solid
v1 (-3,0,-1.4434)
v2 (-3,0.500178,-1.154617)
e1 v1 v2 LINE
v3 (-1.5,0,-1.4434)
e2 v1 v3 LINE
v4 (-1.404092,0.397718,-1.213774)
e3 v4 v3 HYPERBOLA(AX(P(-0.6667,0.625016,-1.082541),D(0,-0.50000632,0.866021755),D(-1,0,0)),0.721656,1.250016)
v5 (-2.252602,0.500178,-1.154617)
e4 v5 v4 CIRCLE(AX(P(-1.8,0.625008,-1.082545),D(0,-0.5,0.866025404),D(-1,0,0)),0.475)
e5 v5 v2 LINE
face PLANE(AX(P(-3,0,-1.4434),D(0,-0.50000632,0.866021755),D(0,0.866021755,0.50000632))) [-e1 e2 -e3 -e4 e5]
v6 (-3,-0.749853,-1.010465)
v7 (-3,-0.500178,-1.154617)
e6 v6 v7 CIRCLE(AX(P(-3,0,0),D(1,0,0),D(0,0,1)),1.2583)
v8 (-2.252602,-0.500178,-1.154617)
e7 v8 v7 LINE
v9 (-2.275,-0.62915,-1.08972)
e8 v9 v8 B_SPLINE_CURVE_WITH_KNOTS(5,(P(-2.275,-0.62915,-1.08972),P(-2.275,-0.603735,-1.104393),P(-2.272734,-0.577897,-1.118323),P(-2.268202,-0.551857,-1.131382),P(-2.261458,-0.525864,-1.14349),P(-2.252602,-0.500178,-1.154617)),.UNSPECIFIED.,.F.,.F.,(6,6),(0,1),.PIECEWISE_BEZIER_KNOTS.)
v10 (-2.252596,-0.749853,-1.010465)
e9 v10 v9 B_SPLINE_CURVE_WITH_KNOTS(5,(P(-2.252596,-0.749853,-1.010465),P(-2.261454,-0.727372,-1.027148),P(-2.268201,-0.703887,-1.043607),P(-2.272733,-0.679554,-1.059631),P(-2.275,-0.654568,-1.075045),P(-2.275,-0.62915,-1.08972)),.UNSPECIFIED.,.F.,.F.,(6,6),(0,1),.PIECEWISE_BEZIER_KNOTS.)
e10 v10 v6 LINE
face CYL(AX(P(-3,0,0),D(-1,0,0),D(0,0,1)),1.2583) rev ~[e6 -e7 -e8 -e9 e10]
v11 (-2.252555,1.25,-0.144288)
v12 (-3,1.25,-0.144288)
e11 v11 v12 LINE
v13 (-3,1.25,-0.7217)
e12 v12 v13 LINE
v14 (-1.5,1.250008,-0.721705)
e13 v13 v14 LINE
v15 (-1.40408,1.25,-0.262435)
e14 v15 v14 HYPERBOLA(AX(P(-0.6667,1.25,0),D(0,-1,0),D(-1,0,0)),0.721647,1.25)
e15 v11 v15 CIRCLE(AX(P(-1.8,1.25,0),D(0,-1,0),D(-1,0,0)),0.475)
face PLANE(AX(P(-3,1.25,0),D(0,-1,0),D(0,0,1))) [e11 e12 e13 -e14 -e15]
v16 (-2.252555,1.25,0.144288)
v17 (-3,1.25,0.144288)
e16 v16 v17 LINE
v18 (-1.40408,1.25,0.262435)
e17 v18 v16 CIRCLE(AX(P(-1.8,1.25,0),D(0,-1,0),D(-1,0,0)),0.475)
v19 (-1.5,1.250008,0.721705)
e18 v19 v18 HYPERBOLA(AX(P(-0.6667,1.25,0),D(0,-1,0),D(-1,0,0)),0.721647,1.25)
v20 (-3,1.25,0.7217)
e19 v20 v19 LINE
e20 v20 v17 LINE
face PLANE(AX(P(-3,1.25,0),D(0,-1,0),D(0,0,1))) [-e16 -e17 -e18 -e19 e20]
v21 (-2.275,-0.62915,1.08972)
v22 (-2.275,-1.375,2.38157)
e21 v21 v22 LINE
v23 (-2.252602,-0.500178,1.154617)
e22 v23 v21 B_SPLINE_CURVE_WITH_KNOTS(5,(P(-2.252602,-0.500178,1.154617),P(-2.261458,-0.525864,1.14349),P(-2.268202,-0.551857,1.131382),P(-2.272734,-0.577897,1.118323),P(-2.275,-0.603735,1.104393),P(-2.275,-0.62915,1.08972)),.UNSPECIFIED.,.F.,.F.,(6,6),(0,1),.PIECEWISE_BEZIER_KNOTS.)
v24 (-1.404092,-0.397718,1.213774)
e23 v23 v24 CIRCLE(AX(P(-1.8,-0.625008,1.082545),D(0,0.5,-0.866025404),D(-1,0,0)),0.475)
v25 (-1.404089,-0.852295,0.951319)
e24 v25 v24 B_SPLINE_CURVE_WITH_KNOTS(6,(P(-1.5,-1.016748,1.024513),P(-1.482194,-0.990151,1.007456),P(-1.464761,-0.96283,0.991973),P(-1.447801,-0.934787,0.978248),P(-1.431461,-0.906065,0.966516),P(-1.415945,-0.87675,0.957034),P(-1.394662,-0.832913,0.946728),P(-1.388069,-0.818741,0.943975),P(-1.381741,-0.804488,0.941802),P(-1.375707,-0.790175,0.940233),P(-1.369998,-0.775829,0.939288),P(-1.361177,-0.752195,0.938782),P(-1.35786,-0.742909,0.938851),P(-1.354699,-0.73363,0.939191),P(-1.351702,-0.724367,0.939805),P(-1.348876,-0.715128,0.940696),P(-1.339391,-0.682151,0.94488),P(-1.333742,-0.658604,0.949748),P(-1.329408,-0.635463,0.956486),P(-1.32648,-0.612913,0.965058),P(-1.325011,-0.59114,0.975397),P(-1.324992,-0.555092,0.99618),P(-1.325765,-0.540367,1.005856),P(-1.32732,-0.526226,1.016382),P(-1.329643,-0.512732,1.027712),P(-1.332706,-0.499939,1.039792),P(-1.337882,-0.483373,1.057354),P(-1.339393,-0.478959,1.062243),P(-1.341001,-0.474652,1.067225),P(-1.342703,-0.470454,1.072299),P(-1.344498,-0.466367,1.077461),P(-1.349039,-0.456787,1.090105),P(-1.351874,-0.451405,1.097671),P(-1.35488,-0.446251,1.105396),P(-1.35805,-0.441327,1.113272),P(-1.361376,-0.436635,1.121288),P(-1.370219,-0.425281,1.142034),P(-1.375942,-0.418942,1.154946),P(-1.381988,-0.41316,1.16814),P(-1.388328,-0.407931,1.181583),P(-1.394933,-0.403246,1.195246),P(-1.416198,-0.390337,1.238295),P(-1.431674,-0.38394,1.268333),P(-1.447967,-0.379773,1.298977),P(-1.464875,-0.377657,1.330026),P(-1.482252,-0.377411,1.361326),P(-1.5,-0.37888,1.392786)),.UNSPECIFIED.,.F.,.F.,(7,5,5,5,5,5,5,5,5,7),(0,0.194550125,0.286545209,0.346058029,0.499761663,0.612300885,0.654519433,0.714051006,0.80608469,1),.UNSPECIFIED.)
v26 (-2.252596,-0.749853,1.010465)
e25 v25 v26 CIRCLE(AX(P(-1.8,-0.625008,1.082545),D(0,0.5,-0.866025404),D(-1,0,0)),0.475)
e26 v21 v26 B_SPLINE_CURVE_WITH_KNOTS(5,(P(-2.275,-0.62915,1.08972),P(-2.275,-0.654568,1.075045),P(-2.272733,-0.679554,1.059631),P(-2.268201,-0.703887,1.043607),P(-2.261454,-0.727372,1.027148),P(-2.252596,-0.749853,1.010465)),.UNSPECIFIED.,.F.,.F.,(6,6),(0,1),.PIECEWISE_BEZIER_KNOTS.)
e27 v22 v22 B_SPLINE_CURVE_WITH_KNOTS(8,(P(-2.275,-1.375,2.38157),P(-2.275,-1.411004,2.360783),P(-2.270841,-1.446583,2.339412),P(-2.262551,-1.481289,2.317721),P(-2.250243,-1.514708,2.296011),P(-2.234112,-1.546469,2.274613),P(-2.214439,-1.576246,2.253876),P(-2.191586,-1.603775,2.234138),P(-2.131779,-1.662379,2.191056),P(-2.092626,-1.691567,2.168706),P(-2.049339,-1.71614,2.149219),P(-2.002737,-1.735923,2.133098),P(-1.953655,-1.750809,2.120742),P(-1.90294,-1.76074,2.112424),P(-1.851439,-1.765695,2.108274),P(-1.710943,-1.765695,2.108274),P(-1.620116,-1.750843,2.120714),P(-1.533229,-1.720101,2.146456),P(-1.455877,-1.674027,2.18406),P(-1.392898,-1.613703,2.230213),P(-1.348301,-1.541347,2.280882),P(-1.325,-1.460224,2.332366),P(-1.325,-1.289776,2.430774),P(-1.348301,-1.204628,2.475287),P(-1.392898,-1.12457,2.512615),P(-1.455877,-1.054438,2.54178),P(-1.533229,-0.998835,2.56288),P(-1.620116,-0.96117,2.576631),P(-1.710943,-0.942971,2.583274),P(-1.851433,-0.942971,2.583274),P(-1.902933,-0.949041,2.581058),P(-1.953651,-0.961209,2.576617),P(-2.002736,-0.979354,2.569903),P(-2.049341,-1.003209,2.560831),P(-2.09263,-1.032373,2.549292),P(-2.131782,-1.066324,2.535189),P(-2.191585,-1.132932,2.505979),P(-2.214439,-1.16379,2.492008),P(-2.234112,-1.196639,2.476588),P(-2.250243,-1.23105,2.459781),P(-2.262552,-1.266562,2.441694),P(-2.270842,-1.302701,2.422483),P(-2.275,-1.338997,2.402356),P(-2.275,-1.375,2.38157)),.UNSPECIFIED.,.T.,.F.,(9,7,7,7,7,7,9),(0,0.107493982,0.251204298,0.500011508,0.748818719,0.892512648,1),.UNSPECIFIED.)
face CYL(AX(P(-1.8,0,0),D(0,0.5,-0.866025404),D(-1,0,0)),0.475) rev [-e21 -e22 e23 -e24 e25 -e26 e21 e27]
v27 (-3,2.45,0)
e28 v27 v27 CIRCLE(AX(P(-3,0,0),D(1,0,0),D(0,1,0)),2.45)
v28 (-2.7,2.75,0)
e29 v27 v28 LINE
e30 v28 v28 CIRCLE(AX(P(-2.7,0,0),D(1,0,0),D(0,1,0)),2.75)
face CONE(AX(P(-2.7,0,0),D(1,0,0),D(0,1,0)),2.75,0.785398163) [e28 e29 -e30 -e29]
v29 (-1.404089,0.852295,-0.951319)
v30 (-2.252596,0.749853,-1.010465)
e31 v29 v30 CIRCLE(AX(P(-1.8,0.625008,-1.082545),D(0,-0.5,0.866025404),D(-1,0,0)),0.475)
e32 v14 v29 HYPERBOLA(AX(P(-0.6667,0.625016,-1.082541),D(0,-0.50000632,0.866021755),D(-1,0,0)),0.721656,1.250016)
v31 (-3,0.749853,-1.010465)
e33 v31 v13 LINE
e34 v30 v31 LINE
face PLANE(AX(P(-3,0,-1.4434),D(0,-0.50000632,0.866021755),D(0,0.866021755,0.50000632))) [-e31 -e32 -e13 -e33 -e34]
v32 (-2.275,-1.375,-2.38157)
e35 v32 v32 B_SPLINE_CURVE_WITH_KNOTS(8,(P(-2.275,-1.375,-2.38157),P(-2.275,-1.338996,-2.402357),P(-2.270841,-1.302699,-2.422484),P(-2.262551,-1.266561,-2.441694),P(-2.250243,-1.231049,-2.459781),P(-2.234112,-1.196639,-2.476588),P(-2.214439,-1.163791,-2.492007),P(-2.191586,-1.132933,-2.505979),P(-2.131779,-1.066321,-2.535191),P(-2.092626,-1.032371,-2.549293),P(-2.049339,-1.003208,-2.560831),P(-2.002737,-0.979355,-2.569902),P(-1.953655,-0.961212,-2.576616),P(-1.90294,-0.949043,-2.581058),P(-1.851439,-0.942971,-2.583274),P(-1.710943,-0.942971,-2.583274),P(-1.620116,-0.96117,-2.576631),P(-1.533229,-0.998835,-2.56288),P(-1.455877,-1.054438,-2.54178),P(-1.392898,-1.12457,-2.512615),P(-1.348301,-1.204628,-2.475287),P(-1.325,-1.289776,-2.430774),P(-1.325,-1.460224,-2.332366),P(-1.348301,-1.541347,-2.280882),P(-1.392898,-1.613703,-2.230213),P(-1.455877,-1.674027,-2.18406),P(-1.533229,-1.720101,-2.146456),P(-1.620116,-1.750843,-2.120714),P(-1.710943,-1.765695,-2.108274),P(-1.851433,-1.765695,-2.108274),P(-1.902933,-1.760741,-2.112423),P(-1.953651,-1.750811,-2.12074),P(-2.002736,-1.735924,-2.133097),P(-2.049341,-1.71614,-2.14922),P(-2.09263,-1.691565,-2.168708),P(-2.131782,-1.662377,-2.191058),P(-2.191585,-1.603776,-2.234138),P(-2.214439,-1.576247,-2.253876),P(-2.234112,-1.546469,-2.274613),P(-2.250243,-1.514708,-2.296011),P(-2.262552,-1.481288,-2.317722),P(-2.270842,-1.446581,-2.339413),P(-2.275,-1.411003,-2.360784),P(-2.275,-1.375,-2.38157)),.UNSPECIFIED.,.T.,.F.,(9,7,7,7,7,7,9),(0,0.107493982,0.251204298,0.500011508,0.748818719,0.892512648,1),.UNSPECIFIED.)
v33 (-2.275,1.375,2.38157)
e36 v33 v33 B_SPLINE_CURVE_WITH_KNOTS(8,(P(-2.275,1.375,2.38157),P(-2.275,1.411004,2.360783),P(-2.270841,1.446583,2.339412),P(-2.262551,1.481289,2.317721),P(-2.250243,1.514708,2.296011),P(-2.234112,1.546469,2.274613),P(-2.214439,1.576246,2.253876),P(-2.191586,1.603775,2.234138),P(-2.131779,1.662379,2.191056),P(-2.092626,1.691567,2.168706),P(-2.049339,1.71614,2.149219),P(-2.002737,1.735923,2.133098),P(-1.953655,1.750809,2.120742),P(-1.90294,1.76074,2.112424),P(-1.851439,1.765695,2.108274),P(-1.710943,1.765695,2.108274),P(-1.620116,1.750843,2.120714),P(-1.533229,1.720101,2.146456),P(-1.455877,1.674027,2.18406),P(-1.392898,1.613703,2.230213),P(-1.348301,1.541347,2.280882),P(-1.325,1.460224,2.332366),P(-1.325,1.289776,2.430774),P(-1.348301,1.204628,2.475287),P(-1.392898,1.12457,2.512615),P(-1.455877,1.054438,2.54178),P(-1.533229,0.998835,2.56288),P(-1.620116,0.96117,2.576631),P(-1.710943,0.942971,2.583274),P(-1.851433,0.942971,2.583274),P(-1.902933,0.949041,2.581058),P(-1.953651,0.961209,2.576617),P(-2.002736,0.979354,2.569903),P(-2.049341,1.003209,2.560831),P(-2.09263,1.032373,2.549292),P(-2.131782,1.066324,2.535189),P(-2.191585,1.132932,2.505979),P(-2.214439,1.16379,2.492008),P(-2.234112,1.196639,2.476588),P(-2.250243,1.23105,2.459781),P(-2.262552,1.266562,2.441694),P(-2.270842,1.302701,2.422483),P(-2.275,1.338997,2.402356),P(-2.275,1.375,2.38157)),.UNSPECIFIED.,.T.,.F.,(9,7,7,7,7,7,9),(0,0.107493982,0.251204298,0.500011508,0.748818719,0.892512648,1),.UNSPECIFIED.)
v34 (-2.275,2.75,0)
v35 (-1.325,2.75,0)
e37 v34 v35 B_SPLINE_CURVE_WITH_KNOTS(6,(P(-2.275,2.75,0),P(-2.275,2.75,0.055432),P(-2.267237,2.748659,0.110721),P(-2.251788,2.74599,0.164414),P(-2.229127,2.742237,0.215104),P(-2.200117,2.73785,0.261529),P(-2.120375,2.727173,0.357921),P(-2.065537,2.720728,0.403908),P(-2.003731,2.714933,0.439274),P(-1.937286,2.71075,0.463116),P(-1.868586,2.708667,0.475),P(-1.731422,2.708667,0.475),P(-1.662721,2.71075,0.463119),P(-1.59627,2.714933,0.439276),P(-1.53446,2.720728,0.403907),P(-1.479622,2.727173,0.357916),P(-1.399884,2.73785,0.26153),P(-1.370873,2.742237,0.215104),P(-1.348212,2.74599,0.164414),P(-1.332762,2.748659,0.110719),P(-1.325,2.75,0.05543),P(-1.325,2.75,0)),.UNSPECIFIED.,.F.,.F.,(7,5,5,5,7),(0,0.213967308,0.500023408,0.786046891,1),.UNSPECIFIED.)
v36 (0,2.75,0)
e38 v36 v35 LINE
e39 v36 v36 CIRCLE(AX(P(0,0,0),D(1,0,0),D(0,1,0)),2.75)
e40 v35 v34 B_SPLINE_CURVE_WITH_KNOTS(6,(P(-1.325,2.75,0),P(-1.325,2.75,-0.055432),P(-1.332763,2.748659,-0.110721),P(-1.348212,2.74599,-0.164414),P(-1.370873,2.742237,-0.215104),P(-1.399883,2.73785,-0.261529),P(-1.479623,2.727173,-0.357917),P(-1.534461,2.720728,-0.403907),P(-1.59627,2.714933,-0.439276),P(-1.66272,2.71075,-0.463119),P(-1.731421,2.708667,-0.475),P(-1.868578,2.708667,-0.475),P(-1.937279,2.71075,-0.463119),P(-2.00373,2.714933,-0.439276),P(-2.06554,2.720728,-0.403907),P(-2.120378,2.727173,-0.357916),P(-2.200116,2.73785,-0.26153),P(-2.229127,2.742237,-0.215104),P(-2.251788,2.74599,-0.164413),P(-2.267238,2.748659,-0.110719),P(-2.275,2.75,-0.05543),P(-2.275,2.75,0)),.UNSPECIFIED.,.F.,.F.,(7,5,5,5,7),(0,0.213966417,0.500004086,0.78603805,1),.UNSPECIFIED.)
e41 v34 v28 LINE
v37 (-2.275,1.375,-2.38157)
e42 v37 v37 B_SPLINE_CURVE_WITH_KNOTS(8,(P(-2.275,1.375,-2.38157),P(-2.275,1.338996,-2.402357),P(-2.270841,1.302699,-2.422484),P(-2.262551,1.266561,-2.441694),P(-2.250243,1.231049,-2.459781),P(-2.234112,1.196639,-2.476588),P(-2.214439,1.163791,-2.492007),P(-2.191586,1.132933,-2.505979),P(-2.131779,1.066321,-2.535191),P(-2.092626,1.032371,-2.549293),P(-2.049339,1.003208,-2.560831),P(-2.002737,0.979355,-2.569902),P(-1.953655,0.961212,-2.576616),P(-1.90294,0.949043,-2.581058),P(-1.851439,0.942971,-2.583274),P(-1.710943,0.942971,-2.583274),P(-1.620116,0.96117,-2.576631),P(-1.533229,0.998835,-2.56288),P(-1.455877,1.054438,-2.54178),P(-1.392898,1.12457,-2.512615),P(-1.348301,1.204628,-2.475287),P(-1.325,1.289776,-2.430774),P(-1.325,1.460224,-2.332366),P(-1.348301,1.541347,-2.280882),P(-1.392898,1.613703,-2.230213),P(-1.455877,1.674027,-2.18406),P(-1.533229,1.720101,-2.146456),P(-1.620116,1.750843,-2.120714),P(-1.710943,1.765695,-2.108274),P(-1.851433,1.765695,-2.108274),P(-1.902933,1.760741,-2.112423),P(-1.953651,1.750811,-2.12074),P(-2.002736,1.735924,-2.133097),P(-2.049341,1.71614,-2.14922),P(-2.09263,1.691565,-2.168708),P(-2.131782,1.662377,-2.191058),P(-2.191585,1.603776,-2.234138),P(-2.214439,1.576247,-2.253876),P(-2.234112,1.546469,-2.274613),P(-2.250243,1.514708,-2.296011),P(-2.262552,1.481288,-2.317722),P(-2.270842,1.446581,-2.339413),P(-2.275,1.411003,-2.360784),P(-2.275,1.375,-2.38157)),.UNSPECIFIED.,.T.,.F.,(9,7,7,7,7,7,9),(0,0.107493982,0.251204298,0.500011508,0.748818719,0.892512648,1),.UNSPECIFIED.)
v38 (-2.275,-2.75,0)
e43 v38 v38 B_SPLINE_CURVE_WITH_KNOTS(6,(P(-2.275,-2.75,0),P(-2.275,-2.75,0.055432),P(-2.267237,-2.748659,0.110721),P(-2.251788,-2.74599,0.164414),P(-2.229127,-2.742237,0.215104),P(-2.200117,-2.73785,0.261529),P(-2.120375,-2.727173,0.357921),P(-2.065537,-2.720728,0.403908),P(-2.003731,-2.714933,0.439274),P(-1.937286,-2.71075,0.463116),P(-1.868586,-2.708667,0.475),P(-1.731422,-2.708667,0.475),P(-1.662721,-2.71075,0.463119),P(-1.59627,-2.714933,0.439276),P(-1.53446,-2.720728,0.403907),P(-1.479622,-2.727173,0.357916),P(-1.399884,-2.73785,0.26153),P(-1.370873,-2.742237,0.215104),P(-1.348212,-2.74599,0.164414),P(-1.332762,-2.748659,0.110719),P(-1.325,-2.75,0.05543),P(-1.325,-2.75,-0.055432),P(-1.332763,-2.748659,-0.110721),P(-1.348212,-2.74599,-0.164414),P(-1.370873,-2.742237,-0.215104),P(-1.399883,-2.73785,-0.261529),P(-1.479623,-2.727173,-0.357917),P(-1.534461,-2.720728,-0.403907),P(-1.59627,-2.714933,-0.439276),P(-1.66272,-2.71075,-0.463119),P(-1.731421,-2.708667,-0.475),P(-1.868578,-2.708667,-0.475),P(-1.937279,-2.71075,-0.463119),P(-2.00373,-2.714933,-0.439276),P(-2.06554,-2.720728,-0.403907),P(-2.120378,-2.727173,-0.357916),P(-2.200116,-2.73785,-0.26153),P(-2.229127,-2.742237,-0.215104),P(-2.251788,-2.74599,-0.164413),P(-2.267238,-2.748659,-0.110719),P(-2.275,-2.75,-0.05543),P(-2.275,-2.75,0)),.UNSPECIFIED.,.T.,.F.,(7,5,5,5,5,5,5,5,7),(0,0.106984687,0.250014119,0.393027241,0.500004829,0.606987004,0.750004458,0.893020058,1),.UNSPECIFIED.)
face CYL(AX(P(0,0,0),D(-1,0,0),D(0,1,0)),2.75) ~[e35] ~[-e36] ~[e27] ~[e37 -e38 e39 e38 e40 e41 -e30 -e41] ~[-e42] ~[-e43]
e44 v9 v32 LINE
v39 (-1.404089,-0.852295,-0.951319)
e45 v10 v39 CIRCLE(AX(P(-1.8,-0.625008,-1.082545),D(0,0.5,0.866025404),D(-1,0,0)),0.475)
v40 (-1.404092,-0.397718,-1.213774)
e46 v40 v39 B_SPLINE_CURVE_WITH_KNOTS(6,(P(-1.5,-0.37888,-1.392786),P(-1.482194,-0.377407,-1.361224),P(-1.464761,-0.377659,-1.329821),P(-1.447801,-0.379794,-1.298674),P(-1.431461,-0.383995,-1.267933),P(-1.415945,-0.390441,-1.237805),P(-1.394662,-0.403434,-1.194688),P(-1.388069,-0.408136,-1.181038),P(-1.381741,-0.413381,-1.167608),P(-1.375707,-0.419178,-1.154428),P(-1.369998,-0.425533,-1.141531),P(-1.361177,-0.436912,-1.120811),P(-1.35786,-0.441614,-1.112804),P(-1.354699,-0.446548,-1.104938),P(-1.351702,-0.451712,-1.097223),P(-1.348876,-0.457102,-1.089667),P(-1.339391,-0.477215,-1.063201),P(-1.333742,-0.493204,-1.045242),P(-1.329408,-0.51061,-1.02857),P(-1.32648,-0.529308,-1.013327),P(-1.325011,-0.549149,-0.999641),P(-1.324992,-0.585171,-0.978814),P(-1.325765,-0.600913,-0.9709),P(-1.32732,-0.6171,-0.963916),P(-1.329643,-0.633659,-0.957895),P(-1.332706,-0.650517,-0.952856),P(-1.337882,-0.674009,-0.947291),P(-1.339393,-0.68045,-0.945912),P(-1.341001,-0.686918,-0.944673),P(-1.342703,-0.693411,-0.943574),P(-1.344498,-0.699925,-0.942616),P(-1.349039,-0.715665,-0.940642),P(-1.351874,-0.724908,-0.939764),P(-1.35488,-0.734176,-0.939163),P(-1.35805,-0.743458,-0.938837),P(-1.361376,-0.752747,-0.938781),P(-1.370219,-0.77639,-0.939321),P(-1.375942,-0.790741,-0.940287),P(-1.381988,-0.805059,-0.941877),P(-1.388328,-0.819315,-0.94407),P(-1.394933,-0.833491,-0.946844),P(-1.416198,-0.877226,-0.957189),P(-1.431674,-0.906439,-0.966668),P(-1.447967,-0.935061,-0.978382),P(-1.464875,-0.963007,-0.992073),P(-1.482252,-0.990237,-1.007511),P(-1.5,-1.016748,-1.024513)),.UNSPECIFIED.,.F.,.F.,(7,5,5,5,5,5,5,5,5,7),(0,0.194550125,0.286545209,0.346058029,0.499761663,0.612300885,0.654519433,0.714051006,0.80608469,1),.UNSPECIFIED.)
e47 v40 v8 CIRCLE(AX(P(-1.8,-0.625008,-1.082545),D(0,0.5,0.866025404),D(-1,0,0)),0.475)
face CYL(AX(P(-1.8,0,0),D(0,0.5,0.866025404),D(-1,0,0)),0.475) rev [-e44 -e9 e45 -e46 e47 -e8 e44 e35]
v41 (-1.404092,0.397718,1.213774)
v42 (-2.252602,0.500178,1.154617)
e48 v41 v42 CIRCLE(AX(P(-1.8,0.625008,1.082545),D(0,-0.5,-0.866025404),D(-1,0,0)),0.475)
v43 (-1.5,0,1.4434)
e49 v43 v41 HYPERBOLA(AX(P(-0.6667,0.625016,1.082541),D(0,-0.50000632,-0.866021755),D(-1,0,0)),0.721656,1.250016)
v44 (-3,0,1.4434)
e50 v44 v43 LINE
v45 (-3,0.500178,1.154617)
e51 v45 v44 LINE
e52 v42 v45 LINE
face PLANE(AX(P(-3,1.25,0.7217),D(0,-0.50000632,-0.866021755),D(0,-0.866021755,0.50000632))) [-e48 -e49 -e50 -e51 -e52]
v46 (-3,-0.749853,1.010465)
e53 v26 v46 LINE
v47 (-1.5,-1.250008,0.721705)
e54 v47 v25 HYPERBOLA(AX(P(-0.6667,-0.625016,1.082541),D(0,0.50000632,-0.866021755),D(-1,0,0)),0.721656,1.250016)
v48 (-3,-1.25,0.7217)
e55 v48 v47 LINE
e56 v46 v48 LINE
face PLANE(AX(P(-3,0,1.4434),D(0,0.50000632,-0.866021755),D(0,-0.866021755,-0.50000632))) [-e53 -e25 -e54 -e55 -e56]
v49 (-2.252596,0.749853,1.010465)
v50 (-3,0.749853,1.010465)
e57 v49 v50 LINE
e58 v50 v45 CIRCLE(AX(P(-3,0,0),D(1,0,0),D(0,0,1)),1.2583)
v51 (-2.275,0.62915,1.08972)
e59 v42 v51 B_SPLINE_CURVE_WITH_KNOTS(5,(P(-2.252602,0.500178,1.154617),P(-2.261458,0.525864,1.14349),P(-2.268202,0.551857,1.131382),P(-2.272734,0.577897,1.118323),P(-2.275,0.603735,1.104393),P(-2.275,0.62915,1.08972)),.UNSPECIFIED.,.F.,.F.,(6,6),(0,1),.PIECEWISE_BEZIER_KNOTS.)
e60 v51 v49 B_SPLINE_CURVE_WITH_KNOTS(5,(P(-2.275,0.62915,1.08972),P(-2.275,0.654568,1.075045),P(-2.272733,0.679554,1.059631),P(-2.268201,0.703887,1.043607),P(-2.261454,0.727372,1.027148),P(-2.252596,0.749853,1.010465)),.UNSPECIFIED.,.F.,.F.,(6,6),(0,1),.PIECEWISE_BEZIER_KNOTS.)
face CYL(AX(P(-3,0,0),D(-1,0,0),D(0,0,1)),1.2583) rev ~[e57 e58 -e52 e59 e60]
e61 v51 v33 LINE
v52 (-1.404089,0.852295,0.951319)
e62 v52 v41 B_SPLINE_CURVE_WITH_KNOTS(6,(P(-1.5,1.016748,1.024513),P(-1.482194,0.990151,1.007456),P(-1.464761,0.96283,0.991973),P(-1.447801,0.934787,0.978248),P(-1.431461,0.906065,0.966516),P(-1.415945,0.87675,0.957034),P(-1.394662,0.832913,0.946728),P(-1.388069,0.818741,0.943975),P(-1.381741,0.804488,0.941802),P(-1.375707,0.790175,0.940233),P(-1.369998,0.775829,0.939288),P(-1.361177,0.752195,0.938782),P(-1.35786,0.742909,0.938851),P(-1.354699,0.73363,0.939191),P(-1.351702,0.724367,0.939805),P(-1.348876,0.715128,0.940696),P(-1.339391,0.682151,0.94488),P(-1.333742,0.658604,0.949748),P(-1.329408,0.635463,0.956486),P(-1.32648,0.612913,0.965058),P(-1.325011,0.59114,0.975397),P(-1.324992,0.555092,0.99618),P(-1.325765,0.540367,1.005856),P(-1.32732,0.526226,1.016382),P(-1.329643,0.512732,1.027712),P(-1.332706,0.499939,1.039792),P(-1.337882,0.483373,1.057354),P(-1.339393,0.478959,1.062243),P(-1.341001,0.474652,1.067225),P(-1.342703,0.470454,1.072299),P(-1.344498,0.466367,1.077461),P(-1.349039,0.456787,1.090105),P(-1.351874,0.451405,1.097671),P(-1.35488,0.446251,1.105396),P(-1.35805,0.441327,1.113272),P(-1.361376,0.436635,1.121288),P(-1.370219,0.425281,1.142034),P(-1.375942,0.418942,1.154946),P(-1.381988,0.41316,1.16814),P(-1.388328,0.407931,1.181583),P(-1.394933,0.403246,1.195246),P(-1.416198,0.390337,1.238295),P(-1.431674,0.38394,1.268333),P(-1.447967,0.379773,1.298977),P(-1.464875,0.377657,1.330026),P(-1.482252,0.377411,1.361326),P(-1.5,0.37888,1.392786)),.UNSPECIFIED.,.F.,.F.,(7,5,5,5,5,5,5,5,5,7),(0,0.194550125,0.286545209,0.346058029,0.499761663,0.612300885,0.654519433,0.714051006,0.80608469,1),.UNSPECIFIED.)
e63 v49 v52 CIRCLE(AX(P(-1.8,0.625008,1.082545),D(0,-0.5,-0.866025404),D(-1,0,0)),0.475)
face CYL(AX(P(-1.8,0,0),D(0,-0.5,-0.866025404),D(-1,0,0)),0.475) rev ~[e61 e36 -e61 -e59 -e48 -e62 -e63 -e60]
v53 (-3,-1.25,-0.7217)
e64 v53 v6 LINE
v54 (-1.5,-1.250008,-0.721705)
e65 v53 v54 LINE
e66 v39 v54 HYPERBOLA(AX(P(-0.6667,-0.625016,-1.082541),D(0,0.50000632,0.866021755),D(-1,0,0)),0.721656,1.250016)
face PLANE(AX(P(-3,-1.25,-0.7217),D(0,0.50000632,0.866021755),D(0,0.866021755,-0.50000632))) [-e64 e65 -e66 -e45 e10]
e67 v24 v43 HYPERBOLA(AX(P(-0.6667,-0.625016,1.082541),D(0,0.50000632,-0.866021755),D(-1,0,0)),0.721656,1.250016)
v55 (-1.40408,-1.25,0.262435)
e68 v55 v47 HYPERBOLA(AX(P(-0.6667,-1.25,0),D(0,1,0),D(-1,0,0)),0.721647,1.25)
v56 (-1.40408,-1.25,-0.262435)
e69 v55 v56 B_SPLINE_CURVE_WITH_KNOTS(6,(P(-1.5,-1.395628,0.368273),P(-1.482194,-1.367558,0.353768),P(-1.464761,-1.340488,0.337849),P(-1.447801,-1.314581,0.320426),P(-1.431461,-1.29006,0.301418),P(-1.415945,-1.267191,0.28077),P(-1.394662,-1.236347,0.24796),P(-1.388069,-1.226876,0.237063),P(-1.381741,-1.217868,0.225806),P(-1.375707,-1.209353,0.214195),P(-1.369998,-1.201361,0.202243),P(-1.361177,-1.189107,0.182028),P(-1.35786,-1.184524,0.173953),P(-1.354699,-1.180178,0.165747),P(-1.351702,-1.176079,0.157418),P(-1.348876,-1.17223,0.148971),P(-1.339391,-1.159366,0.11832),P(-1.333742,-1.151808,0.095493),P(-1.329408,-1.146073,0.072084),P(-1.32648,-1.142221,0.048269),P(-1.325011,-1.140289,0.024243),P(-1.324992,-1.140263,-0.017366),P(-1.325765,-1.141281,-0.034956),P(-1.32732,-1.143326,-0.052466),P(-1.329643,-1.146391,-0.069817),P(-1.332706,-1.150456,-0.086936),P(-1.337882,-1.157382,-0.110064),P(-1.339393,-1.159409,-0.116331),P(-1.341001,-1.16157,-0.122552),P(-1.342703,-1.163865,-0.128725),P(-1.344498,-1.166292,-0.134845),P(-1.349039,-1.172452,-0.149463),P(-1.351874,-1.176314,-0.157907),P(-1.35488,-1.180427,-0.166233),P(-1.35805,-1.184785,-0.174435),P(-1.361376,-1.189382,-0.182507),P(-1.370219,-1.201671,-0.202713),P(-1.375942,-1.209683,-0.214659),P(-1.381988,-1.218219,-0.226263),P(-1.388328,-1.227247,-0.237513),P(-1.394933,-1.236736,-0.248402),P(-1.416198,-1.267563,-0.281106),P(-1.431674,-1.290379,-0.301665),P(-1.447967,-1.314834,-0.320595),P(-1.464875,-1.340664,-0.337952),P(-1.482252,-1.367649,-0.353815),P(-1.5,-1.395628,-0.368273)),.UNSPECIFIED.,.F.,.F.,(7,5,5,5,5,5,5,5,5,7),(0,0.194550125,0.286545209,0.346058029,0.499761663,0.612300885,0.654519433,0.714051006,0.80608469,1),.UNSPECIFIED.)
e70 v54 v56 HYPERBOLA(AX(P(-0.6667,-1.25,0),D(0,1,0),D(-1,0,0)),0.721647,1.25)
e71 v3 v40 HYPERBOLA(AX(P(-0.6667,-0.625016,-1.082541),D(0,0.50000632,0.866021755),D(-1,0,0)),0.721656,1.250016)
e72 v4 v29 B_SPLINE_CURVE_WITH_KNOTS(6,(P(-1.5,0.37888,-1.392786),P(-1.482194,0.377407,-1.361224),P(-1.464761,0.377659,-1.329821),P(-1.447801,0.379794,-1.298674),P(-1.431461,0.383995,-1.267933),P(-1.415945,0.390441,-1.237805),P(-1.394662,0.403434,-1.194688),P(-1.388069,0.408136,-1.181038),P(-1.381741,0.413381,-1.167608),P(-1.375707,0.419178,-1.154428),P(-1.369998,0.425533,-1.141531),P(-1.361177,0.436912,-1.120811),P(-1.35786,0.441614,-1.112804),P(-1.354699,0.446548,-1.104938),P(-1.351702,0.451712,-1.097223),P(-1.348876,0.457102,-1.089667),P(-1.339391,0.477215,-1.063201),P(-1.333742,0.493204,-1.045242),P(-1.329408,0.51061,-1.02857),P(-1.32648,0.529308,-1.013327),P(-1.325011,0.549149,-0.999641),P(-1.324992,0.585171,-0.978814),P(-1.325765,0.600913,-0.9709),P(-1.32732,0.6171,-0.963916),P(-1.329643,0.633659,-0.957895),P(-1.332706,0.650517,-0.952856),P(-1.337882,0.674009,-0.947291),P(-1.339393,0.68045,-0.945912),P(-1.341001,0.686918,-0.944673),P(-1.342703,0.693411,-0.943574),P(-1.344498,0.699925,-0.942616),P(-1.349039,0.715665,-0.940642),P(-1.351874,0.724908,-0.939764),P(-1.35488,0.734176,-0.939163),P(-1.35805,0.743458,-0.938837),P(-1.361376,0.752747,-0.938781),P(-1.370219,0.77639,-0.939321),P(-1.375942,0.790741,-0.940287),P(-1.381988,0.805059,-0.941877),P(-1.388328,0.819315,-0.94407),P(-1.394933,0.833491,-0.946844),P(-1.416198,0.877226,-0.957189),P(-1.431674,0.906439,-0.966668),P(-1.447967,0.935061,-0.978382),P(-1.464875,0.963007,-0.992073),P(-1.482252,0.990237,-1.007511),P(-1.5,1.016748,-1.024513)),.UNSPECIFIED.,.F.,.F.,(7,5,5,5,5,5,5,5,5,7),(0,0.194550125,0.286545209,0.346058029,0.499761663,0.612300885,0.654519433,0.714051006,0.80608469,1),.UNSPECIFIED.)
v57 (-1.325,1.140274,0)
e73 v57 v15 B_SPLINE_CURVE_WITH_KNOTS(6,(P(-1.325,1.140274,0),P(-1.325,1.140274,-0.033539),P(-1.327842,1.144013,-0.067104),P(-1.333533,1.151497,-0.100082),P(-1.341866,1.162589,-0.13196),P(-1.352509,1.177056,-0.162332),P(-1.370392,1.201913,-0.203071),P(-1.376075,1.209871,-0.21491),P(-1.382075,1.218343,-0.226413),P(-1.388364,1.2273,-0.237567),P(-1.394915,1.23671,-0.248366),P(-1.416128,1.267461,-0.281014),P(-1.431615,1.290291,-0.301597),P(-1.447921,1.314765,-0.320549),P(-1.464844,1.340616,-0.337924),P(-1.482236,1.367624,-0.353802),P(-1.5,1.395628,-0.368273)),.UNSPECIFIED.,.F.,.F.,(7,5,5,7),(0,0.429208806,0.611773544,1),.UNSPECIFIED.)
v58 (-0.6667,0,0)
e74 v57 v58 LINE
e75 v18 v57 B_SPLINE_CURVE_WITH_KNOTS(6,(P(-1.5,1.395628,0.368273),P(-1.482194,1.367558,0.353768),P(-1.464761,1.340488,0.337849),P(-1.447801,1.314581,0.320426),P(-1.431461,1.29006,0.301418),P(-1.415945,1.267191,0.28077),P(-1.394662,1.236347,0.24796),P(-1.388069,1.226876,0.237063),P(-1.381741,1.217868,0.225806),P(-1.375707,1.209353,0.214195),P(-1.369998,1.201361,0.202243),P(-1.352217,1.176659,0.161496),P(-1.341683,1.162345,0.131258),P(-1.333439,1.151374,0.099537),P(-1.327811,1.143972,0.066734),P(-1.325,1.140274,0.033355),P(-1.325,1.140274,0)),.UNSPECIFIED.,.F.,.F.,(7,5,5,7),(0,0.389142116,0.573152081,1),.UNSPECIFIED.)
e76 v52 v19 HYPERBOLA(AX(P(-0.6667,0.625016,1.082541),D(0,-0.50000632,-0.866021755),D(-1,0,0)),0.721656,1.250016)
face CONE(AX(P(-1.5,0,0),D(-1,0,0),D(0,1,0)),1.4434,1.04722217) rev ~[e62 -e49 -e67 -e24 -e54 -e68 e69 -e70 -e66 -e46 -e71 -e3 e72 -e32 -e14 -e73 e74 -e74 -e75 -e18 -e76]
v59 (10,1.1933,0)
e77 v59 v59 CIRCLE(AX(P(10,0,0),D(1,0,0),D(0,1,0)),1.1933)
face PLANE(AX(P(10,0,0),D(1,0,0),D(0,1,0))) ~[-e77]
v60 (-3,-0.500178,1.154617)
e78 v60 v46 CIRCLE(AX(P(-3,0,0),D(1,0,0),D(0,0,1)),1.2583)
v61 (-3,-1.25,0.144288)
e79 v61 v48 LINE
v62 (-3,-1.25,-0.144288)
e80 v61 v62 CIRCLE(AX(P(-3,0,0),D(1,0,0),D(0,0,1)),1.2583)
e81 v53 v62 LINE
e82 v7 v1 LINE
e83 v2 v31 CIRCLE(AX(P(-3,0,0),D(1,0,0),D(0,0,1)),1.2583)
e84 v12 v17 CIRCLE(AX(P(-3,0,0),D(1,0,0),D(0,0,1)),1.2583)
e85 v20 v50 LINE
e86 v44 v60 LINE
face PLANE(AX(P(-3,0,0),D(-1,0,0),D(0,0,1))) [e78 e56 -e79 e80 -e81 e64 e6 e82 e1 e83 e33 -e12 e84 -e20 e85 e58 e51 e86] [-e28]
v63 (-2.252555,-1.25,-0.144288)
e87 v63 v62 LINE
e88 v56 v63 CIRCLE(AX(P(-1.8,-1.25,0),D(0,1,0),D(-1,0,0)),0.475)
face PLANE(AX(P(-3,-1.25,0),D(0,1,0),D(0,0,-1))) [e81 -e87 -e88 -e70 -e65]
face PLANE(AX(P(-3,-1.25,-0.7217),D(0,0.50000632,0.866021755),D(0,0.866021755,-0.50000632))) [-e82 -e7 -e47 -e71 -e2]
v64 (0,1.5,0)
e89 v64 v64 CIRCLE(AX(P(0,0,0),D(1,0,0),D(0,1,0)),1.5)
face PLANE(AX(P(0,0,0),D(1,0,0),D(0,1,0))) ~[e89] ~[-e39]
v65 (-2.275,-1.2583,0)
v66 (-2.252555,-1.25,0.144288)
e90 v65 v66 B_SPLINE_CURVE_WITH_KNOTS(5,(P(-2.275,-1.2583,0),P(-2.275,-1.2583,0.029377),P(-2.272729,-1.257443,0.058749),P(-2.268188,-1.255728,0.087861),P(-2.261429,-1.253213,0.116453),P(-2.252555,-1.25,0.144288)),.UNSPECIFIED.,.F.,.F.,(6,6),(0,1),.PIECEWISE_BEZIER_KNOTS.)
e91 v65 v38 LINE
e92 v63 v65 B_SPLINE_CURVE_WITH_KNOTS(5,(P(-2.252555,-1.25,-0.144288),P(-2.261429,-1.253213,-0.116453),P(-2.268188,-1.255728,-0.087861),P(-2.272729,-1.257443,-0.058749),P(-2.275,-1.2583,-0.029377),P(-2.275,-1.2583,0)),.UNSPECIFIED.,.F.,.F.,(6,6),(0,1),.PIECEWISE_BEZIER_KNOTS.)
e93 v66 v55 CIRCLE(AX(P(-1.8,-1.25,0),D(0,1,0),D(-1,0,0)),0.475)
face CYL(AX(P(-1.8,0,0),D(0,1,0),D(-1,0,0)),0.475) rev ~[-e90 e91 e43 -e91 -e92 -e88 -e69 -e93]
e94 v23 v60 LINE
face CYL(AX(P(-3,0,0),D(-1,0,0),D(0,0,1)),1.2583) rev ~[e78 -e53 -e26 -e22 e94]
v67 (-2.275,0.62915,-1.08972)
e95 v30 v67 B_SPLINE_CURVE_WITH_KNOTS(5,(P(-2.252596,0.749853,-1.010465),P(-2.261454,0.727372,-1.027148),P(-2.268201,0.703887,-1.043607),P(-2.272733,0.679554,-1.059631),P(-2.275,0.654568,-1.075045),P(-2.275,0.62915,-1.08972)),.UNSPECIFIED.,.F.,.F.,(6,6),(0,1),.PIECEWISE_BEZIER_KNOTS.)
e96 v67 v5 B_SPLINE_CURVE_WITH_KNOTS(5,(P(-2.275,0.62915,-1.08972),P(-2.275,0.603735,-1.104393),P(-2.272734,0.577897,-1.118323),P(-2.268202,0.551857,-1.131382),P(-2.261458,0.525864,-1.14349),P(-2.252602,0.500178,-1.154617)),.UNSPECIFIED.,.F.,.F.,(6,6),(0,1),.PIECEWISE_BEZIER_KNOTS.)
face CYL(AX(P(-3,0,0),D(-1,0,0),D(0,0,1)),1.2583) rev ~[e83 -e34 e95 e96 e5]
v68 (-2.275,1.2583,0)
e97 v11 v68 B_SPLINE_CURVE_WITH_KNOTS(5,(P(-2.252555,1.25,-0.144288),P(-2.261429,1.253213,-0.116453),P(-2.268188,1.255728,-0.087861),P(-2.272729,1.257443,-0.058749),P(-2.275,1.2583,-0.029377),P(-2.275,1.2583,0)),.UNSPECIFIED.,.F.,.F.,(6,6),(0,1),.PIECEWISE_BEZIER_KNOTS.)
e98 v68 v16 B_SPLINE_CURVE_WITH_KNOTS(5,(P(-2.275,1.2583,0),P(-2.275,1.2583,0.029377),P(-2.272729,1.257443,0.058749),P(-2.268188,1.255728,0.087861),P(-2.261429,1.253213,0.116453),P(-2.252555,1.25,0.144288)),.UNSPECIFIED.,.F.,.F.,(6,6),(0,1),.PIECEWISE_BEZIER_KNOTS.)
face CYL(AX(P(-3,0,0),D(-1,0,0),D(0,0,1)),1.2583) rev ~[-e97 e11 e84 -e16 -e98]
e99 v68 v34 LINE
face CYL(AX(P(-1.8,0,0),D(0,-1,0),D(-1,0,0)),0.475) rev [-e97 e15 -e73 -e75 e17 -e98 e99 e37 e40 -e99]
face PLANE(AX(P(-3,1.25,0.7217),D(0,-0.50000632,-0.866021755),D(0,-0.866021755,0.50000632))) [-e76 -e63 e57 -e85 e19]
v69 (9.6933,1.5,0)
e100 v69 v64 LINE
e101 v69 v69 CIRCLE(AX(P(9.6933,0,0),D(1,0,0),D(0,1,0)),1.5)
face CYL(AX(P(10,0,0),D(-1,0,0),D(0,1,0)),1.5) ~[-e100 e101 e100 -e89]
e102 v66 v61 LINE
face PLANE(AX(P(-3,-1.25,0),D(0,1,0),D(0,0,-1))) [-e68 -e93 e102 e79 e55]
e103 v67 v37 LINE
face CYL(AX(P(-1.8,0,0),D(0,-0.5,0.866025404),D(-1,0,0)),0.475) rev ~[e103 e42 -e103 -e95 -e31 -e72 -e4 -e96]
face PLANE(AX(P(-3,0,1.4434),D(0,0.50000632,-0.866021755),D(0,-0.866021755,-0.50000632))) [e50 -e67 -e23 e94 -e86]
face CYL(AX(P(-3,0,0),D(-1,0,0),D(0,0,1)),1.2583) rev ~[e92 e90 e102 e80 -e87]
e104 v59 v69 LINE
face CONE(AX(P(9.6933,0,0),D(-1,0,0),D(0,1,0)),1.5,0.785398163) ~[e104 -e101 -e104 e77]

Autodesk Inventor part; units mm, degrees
ref_plane "YZ Plane" through (0, 0, 0) normal (1, 0, 0) x (0, 1, 0)
ref_plane "XZ Plane" through (0, 0, 0) normal (0, 1, 0) x (-1, 0, 0)
sketch "Sketch1" plane through (0, 0, 0) normal (0, 0, 1) x (1, 0, 0)
  line L0 (-0.6667, 0) -> (10, 0)
  line L1 (10, 0) -> (10, 1.5)
  line L2 (10, 1.5) -> (0, 1.5)
  line L3 (0, 1.5) -> (0, 2.75)
  line L4 (0, 2.75) -> (-3, 2.75)
  line L5 (-3, 2.75) -> (-3, 1.4434)
  line L6 (-3, 1.4434) -> (-1.5, 1.4434)
  line L7 (-1.5, 1.4434) -> (-0.6667, 0)
  line L8 (-25.4, 0) -> (68.4, 0) projected
  line L9 (0, -1.8) -> (0, 10.8) projected
  dimension "d3" = 3
  dimension "d4" = 1.5
  dimension "d5" = 60
  dimension "d6" = 3
  dimension "d8" = 2.8868
  dimension "d9" = 5.5
  dimension "d31" = 10
revolve "Body" add sketch "Sketch1" angle 360 about axis through (-0.6667, 0, 0) along (1, 0, 0)
sketch "Sketch2" plane through (-3, 0, 0) normal (-1, 0, 0) x (0, 0, 1)
  circle A0 centre (0, 0) radius 1.4434 projected
  line L0 (0, -8.0829) -> (0, 8.0829) projected
  line L1 (-8.0829, 0) -> (8.0829, 0) projected
  line L2 (1.4434, 0) -> (0.7217, -1.25)
  line L3 (0.7217, -1.25) -> (-0.7217, -1.25)
  line L4 (-0.7217, -1.25) -> (-1.4434, 0)
  line L5 (-1.4434, 0) -> (-0.7217, 1.25)
  line L6 (-0.7217, 1.25) -> (0.7217, 1.25)
  line L7 (0.7217, 1.25) -> (1.4434, 0)
extrude "Slot" add sketch "Sketch2" against normal up to next contours L7 A0 | A0 L2 | L6 L0 A0 | A0 L0 L3 | L0 L6 A0 | A0 L3 L0 | L4 A0 | A0 L5
sketch "Sketch3" plane through (-3, 0, 0) normal (-1, 0, 0) x (0, 0, 1)
  circle A0 centre (0, 0) radius 2.75 projected
  line L0 (-0.7217, 1.25) -> (0.7217, 1.25) projected
  circle A1 centre (0, 0) radius 1.2583
  point P0 (-0.1443, 1.25)
  point P1 (0.1443, 1.25)
  dimension "d23" = 0.2887
extrude "Overcut" cut sketch "Sketch3" against normal blind 1.5 contours A1 L0 | L0 A1
sketch "Sketch4" plane through (0, 0, 0) normal (0, 1, 0) x (-1, 0, 0)
  line L0 (0, 2.75) -> (0, -2.75) projected
  line L1 (14.4, 0) -> (-2.4, 0) projected
  circle A0 centre (1.8, 0) radius 0.475
  line L2 (3, 2.75) -> (3, -2.75) projected
  point P0 (0, 0)
  dimension "d13" = 0.95
  dimension "d14" = 1.2
extrude "Hole" cut sketch "Sketch4" along normal through all both and the other way through all
pattern_circular "Holes" count 3 over 360 about axis through (5, 0, 0) along (1, 0, 0) of "Hole"
chamfer "Chamfer1" distance 0.3 angle 45 1 edges at (-3, -2.75, 0) measured on face at (-1.5904, -2.2485, -1.5833)
thread "Thread" size "1/2-13 UNC" class "1A" standard "ANSI Unified Screw Threads" length 9
chamfer "Chamfer2" distance 0.3067 distance2 0.3067 1 edges at (10, -1.5, 0) measured on face at (10, -0.6587, -0.1791)
ref_plane "Work Plane1" through (5, 0, 0) normal (0, 0.5, 0.866) x (1, 0, 0)
equation "\"d3\" = KOH"
equation "\"d4\" = STI"
equation "\"d6\" = GD"
equation "\"d8\" = 1.1547 * SW"
equation "\"d9\" = KOD"
equation "\"d31\" = NLG"
equation "\"d23\" = 0.11547 * SW"
equation "\"d24\" = STI"
equation "\"d13\" = BOR"
equation "\"d14\" = DIST"
equation "\"d17\" = PHH"
equation "\"d32\" = PHH"
equation "\"d19\" = GEL"
equation "\"d21\" = -0.5 * SPD + 0.5 * GD"
equation "\"d22\" = GUL"
equation "\"GD\" = NND"
equation "\"NLG\" = 10"
equation "\"GEL\" = 9"
equation "\"KOD\" = 5.5"
equation "\"KOH\" = 3"
equation "\"GUL\" = 0.61345 * PTC"
equation "\"SW\" = 2.5"
equation "\"STI\" = 1.5"
equation "\"DIST\" = 1.2"
equation "\"BOR\" = 0.95"
equation "\"PHH\" = 0.3"
equation "\"SPD\" = 2.38655"
equation "\"PTC\" = 0.5"
equation "\"THREADDIA\" = 3"
equation "\"TOA\" = 30deg"
equation "\"BDM\" = NND"
equation "\"NND\" = 3"
equation "\"E0\" = 1.155 * SW"
equation "\"GAL\" = 0.61345 * PTC"
equation "\"GD1\" = THREADDIA - 1.2269 * PTC"
properties part number "ANSI B18.3.1M - M3x0,5 x 10" material "Steel, Mild"
